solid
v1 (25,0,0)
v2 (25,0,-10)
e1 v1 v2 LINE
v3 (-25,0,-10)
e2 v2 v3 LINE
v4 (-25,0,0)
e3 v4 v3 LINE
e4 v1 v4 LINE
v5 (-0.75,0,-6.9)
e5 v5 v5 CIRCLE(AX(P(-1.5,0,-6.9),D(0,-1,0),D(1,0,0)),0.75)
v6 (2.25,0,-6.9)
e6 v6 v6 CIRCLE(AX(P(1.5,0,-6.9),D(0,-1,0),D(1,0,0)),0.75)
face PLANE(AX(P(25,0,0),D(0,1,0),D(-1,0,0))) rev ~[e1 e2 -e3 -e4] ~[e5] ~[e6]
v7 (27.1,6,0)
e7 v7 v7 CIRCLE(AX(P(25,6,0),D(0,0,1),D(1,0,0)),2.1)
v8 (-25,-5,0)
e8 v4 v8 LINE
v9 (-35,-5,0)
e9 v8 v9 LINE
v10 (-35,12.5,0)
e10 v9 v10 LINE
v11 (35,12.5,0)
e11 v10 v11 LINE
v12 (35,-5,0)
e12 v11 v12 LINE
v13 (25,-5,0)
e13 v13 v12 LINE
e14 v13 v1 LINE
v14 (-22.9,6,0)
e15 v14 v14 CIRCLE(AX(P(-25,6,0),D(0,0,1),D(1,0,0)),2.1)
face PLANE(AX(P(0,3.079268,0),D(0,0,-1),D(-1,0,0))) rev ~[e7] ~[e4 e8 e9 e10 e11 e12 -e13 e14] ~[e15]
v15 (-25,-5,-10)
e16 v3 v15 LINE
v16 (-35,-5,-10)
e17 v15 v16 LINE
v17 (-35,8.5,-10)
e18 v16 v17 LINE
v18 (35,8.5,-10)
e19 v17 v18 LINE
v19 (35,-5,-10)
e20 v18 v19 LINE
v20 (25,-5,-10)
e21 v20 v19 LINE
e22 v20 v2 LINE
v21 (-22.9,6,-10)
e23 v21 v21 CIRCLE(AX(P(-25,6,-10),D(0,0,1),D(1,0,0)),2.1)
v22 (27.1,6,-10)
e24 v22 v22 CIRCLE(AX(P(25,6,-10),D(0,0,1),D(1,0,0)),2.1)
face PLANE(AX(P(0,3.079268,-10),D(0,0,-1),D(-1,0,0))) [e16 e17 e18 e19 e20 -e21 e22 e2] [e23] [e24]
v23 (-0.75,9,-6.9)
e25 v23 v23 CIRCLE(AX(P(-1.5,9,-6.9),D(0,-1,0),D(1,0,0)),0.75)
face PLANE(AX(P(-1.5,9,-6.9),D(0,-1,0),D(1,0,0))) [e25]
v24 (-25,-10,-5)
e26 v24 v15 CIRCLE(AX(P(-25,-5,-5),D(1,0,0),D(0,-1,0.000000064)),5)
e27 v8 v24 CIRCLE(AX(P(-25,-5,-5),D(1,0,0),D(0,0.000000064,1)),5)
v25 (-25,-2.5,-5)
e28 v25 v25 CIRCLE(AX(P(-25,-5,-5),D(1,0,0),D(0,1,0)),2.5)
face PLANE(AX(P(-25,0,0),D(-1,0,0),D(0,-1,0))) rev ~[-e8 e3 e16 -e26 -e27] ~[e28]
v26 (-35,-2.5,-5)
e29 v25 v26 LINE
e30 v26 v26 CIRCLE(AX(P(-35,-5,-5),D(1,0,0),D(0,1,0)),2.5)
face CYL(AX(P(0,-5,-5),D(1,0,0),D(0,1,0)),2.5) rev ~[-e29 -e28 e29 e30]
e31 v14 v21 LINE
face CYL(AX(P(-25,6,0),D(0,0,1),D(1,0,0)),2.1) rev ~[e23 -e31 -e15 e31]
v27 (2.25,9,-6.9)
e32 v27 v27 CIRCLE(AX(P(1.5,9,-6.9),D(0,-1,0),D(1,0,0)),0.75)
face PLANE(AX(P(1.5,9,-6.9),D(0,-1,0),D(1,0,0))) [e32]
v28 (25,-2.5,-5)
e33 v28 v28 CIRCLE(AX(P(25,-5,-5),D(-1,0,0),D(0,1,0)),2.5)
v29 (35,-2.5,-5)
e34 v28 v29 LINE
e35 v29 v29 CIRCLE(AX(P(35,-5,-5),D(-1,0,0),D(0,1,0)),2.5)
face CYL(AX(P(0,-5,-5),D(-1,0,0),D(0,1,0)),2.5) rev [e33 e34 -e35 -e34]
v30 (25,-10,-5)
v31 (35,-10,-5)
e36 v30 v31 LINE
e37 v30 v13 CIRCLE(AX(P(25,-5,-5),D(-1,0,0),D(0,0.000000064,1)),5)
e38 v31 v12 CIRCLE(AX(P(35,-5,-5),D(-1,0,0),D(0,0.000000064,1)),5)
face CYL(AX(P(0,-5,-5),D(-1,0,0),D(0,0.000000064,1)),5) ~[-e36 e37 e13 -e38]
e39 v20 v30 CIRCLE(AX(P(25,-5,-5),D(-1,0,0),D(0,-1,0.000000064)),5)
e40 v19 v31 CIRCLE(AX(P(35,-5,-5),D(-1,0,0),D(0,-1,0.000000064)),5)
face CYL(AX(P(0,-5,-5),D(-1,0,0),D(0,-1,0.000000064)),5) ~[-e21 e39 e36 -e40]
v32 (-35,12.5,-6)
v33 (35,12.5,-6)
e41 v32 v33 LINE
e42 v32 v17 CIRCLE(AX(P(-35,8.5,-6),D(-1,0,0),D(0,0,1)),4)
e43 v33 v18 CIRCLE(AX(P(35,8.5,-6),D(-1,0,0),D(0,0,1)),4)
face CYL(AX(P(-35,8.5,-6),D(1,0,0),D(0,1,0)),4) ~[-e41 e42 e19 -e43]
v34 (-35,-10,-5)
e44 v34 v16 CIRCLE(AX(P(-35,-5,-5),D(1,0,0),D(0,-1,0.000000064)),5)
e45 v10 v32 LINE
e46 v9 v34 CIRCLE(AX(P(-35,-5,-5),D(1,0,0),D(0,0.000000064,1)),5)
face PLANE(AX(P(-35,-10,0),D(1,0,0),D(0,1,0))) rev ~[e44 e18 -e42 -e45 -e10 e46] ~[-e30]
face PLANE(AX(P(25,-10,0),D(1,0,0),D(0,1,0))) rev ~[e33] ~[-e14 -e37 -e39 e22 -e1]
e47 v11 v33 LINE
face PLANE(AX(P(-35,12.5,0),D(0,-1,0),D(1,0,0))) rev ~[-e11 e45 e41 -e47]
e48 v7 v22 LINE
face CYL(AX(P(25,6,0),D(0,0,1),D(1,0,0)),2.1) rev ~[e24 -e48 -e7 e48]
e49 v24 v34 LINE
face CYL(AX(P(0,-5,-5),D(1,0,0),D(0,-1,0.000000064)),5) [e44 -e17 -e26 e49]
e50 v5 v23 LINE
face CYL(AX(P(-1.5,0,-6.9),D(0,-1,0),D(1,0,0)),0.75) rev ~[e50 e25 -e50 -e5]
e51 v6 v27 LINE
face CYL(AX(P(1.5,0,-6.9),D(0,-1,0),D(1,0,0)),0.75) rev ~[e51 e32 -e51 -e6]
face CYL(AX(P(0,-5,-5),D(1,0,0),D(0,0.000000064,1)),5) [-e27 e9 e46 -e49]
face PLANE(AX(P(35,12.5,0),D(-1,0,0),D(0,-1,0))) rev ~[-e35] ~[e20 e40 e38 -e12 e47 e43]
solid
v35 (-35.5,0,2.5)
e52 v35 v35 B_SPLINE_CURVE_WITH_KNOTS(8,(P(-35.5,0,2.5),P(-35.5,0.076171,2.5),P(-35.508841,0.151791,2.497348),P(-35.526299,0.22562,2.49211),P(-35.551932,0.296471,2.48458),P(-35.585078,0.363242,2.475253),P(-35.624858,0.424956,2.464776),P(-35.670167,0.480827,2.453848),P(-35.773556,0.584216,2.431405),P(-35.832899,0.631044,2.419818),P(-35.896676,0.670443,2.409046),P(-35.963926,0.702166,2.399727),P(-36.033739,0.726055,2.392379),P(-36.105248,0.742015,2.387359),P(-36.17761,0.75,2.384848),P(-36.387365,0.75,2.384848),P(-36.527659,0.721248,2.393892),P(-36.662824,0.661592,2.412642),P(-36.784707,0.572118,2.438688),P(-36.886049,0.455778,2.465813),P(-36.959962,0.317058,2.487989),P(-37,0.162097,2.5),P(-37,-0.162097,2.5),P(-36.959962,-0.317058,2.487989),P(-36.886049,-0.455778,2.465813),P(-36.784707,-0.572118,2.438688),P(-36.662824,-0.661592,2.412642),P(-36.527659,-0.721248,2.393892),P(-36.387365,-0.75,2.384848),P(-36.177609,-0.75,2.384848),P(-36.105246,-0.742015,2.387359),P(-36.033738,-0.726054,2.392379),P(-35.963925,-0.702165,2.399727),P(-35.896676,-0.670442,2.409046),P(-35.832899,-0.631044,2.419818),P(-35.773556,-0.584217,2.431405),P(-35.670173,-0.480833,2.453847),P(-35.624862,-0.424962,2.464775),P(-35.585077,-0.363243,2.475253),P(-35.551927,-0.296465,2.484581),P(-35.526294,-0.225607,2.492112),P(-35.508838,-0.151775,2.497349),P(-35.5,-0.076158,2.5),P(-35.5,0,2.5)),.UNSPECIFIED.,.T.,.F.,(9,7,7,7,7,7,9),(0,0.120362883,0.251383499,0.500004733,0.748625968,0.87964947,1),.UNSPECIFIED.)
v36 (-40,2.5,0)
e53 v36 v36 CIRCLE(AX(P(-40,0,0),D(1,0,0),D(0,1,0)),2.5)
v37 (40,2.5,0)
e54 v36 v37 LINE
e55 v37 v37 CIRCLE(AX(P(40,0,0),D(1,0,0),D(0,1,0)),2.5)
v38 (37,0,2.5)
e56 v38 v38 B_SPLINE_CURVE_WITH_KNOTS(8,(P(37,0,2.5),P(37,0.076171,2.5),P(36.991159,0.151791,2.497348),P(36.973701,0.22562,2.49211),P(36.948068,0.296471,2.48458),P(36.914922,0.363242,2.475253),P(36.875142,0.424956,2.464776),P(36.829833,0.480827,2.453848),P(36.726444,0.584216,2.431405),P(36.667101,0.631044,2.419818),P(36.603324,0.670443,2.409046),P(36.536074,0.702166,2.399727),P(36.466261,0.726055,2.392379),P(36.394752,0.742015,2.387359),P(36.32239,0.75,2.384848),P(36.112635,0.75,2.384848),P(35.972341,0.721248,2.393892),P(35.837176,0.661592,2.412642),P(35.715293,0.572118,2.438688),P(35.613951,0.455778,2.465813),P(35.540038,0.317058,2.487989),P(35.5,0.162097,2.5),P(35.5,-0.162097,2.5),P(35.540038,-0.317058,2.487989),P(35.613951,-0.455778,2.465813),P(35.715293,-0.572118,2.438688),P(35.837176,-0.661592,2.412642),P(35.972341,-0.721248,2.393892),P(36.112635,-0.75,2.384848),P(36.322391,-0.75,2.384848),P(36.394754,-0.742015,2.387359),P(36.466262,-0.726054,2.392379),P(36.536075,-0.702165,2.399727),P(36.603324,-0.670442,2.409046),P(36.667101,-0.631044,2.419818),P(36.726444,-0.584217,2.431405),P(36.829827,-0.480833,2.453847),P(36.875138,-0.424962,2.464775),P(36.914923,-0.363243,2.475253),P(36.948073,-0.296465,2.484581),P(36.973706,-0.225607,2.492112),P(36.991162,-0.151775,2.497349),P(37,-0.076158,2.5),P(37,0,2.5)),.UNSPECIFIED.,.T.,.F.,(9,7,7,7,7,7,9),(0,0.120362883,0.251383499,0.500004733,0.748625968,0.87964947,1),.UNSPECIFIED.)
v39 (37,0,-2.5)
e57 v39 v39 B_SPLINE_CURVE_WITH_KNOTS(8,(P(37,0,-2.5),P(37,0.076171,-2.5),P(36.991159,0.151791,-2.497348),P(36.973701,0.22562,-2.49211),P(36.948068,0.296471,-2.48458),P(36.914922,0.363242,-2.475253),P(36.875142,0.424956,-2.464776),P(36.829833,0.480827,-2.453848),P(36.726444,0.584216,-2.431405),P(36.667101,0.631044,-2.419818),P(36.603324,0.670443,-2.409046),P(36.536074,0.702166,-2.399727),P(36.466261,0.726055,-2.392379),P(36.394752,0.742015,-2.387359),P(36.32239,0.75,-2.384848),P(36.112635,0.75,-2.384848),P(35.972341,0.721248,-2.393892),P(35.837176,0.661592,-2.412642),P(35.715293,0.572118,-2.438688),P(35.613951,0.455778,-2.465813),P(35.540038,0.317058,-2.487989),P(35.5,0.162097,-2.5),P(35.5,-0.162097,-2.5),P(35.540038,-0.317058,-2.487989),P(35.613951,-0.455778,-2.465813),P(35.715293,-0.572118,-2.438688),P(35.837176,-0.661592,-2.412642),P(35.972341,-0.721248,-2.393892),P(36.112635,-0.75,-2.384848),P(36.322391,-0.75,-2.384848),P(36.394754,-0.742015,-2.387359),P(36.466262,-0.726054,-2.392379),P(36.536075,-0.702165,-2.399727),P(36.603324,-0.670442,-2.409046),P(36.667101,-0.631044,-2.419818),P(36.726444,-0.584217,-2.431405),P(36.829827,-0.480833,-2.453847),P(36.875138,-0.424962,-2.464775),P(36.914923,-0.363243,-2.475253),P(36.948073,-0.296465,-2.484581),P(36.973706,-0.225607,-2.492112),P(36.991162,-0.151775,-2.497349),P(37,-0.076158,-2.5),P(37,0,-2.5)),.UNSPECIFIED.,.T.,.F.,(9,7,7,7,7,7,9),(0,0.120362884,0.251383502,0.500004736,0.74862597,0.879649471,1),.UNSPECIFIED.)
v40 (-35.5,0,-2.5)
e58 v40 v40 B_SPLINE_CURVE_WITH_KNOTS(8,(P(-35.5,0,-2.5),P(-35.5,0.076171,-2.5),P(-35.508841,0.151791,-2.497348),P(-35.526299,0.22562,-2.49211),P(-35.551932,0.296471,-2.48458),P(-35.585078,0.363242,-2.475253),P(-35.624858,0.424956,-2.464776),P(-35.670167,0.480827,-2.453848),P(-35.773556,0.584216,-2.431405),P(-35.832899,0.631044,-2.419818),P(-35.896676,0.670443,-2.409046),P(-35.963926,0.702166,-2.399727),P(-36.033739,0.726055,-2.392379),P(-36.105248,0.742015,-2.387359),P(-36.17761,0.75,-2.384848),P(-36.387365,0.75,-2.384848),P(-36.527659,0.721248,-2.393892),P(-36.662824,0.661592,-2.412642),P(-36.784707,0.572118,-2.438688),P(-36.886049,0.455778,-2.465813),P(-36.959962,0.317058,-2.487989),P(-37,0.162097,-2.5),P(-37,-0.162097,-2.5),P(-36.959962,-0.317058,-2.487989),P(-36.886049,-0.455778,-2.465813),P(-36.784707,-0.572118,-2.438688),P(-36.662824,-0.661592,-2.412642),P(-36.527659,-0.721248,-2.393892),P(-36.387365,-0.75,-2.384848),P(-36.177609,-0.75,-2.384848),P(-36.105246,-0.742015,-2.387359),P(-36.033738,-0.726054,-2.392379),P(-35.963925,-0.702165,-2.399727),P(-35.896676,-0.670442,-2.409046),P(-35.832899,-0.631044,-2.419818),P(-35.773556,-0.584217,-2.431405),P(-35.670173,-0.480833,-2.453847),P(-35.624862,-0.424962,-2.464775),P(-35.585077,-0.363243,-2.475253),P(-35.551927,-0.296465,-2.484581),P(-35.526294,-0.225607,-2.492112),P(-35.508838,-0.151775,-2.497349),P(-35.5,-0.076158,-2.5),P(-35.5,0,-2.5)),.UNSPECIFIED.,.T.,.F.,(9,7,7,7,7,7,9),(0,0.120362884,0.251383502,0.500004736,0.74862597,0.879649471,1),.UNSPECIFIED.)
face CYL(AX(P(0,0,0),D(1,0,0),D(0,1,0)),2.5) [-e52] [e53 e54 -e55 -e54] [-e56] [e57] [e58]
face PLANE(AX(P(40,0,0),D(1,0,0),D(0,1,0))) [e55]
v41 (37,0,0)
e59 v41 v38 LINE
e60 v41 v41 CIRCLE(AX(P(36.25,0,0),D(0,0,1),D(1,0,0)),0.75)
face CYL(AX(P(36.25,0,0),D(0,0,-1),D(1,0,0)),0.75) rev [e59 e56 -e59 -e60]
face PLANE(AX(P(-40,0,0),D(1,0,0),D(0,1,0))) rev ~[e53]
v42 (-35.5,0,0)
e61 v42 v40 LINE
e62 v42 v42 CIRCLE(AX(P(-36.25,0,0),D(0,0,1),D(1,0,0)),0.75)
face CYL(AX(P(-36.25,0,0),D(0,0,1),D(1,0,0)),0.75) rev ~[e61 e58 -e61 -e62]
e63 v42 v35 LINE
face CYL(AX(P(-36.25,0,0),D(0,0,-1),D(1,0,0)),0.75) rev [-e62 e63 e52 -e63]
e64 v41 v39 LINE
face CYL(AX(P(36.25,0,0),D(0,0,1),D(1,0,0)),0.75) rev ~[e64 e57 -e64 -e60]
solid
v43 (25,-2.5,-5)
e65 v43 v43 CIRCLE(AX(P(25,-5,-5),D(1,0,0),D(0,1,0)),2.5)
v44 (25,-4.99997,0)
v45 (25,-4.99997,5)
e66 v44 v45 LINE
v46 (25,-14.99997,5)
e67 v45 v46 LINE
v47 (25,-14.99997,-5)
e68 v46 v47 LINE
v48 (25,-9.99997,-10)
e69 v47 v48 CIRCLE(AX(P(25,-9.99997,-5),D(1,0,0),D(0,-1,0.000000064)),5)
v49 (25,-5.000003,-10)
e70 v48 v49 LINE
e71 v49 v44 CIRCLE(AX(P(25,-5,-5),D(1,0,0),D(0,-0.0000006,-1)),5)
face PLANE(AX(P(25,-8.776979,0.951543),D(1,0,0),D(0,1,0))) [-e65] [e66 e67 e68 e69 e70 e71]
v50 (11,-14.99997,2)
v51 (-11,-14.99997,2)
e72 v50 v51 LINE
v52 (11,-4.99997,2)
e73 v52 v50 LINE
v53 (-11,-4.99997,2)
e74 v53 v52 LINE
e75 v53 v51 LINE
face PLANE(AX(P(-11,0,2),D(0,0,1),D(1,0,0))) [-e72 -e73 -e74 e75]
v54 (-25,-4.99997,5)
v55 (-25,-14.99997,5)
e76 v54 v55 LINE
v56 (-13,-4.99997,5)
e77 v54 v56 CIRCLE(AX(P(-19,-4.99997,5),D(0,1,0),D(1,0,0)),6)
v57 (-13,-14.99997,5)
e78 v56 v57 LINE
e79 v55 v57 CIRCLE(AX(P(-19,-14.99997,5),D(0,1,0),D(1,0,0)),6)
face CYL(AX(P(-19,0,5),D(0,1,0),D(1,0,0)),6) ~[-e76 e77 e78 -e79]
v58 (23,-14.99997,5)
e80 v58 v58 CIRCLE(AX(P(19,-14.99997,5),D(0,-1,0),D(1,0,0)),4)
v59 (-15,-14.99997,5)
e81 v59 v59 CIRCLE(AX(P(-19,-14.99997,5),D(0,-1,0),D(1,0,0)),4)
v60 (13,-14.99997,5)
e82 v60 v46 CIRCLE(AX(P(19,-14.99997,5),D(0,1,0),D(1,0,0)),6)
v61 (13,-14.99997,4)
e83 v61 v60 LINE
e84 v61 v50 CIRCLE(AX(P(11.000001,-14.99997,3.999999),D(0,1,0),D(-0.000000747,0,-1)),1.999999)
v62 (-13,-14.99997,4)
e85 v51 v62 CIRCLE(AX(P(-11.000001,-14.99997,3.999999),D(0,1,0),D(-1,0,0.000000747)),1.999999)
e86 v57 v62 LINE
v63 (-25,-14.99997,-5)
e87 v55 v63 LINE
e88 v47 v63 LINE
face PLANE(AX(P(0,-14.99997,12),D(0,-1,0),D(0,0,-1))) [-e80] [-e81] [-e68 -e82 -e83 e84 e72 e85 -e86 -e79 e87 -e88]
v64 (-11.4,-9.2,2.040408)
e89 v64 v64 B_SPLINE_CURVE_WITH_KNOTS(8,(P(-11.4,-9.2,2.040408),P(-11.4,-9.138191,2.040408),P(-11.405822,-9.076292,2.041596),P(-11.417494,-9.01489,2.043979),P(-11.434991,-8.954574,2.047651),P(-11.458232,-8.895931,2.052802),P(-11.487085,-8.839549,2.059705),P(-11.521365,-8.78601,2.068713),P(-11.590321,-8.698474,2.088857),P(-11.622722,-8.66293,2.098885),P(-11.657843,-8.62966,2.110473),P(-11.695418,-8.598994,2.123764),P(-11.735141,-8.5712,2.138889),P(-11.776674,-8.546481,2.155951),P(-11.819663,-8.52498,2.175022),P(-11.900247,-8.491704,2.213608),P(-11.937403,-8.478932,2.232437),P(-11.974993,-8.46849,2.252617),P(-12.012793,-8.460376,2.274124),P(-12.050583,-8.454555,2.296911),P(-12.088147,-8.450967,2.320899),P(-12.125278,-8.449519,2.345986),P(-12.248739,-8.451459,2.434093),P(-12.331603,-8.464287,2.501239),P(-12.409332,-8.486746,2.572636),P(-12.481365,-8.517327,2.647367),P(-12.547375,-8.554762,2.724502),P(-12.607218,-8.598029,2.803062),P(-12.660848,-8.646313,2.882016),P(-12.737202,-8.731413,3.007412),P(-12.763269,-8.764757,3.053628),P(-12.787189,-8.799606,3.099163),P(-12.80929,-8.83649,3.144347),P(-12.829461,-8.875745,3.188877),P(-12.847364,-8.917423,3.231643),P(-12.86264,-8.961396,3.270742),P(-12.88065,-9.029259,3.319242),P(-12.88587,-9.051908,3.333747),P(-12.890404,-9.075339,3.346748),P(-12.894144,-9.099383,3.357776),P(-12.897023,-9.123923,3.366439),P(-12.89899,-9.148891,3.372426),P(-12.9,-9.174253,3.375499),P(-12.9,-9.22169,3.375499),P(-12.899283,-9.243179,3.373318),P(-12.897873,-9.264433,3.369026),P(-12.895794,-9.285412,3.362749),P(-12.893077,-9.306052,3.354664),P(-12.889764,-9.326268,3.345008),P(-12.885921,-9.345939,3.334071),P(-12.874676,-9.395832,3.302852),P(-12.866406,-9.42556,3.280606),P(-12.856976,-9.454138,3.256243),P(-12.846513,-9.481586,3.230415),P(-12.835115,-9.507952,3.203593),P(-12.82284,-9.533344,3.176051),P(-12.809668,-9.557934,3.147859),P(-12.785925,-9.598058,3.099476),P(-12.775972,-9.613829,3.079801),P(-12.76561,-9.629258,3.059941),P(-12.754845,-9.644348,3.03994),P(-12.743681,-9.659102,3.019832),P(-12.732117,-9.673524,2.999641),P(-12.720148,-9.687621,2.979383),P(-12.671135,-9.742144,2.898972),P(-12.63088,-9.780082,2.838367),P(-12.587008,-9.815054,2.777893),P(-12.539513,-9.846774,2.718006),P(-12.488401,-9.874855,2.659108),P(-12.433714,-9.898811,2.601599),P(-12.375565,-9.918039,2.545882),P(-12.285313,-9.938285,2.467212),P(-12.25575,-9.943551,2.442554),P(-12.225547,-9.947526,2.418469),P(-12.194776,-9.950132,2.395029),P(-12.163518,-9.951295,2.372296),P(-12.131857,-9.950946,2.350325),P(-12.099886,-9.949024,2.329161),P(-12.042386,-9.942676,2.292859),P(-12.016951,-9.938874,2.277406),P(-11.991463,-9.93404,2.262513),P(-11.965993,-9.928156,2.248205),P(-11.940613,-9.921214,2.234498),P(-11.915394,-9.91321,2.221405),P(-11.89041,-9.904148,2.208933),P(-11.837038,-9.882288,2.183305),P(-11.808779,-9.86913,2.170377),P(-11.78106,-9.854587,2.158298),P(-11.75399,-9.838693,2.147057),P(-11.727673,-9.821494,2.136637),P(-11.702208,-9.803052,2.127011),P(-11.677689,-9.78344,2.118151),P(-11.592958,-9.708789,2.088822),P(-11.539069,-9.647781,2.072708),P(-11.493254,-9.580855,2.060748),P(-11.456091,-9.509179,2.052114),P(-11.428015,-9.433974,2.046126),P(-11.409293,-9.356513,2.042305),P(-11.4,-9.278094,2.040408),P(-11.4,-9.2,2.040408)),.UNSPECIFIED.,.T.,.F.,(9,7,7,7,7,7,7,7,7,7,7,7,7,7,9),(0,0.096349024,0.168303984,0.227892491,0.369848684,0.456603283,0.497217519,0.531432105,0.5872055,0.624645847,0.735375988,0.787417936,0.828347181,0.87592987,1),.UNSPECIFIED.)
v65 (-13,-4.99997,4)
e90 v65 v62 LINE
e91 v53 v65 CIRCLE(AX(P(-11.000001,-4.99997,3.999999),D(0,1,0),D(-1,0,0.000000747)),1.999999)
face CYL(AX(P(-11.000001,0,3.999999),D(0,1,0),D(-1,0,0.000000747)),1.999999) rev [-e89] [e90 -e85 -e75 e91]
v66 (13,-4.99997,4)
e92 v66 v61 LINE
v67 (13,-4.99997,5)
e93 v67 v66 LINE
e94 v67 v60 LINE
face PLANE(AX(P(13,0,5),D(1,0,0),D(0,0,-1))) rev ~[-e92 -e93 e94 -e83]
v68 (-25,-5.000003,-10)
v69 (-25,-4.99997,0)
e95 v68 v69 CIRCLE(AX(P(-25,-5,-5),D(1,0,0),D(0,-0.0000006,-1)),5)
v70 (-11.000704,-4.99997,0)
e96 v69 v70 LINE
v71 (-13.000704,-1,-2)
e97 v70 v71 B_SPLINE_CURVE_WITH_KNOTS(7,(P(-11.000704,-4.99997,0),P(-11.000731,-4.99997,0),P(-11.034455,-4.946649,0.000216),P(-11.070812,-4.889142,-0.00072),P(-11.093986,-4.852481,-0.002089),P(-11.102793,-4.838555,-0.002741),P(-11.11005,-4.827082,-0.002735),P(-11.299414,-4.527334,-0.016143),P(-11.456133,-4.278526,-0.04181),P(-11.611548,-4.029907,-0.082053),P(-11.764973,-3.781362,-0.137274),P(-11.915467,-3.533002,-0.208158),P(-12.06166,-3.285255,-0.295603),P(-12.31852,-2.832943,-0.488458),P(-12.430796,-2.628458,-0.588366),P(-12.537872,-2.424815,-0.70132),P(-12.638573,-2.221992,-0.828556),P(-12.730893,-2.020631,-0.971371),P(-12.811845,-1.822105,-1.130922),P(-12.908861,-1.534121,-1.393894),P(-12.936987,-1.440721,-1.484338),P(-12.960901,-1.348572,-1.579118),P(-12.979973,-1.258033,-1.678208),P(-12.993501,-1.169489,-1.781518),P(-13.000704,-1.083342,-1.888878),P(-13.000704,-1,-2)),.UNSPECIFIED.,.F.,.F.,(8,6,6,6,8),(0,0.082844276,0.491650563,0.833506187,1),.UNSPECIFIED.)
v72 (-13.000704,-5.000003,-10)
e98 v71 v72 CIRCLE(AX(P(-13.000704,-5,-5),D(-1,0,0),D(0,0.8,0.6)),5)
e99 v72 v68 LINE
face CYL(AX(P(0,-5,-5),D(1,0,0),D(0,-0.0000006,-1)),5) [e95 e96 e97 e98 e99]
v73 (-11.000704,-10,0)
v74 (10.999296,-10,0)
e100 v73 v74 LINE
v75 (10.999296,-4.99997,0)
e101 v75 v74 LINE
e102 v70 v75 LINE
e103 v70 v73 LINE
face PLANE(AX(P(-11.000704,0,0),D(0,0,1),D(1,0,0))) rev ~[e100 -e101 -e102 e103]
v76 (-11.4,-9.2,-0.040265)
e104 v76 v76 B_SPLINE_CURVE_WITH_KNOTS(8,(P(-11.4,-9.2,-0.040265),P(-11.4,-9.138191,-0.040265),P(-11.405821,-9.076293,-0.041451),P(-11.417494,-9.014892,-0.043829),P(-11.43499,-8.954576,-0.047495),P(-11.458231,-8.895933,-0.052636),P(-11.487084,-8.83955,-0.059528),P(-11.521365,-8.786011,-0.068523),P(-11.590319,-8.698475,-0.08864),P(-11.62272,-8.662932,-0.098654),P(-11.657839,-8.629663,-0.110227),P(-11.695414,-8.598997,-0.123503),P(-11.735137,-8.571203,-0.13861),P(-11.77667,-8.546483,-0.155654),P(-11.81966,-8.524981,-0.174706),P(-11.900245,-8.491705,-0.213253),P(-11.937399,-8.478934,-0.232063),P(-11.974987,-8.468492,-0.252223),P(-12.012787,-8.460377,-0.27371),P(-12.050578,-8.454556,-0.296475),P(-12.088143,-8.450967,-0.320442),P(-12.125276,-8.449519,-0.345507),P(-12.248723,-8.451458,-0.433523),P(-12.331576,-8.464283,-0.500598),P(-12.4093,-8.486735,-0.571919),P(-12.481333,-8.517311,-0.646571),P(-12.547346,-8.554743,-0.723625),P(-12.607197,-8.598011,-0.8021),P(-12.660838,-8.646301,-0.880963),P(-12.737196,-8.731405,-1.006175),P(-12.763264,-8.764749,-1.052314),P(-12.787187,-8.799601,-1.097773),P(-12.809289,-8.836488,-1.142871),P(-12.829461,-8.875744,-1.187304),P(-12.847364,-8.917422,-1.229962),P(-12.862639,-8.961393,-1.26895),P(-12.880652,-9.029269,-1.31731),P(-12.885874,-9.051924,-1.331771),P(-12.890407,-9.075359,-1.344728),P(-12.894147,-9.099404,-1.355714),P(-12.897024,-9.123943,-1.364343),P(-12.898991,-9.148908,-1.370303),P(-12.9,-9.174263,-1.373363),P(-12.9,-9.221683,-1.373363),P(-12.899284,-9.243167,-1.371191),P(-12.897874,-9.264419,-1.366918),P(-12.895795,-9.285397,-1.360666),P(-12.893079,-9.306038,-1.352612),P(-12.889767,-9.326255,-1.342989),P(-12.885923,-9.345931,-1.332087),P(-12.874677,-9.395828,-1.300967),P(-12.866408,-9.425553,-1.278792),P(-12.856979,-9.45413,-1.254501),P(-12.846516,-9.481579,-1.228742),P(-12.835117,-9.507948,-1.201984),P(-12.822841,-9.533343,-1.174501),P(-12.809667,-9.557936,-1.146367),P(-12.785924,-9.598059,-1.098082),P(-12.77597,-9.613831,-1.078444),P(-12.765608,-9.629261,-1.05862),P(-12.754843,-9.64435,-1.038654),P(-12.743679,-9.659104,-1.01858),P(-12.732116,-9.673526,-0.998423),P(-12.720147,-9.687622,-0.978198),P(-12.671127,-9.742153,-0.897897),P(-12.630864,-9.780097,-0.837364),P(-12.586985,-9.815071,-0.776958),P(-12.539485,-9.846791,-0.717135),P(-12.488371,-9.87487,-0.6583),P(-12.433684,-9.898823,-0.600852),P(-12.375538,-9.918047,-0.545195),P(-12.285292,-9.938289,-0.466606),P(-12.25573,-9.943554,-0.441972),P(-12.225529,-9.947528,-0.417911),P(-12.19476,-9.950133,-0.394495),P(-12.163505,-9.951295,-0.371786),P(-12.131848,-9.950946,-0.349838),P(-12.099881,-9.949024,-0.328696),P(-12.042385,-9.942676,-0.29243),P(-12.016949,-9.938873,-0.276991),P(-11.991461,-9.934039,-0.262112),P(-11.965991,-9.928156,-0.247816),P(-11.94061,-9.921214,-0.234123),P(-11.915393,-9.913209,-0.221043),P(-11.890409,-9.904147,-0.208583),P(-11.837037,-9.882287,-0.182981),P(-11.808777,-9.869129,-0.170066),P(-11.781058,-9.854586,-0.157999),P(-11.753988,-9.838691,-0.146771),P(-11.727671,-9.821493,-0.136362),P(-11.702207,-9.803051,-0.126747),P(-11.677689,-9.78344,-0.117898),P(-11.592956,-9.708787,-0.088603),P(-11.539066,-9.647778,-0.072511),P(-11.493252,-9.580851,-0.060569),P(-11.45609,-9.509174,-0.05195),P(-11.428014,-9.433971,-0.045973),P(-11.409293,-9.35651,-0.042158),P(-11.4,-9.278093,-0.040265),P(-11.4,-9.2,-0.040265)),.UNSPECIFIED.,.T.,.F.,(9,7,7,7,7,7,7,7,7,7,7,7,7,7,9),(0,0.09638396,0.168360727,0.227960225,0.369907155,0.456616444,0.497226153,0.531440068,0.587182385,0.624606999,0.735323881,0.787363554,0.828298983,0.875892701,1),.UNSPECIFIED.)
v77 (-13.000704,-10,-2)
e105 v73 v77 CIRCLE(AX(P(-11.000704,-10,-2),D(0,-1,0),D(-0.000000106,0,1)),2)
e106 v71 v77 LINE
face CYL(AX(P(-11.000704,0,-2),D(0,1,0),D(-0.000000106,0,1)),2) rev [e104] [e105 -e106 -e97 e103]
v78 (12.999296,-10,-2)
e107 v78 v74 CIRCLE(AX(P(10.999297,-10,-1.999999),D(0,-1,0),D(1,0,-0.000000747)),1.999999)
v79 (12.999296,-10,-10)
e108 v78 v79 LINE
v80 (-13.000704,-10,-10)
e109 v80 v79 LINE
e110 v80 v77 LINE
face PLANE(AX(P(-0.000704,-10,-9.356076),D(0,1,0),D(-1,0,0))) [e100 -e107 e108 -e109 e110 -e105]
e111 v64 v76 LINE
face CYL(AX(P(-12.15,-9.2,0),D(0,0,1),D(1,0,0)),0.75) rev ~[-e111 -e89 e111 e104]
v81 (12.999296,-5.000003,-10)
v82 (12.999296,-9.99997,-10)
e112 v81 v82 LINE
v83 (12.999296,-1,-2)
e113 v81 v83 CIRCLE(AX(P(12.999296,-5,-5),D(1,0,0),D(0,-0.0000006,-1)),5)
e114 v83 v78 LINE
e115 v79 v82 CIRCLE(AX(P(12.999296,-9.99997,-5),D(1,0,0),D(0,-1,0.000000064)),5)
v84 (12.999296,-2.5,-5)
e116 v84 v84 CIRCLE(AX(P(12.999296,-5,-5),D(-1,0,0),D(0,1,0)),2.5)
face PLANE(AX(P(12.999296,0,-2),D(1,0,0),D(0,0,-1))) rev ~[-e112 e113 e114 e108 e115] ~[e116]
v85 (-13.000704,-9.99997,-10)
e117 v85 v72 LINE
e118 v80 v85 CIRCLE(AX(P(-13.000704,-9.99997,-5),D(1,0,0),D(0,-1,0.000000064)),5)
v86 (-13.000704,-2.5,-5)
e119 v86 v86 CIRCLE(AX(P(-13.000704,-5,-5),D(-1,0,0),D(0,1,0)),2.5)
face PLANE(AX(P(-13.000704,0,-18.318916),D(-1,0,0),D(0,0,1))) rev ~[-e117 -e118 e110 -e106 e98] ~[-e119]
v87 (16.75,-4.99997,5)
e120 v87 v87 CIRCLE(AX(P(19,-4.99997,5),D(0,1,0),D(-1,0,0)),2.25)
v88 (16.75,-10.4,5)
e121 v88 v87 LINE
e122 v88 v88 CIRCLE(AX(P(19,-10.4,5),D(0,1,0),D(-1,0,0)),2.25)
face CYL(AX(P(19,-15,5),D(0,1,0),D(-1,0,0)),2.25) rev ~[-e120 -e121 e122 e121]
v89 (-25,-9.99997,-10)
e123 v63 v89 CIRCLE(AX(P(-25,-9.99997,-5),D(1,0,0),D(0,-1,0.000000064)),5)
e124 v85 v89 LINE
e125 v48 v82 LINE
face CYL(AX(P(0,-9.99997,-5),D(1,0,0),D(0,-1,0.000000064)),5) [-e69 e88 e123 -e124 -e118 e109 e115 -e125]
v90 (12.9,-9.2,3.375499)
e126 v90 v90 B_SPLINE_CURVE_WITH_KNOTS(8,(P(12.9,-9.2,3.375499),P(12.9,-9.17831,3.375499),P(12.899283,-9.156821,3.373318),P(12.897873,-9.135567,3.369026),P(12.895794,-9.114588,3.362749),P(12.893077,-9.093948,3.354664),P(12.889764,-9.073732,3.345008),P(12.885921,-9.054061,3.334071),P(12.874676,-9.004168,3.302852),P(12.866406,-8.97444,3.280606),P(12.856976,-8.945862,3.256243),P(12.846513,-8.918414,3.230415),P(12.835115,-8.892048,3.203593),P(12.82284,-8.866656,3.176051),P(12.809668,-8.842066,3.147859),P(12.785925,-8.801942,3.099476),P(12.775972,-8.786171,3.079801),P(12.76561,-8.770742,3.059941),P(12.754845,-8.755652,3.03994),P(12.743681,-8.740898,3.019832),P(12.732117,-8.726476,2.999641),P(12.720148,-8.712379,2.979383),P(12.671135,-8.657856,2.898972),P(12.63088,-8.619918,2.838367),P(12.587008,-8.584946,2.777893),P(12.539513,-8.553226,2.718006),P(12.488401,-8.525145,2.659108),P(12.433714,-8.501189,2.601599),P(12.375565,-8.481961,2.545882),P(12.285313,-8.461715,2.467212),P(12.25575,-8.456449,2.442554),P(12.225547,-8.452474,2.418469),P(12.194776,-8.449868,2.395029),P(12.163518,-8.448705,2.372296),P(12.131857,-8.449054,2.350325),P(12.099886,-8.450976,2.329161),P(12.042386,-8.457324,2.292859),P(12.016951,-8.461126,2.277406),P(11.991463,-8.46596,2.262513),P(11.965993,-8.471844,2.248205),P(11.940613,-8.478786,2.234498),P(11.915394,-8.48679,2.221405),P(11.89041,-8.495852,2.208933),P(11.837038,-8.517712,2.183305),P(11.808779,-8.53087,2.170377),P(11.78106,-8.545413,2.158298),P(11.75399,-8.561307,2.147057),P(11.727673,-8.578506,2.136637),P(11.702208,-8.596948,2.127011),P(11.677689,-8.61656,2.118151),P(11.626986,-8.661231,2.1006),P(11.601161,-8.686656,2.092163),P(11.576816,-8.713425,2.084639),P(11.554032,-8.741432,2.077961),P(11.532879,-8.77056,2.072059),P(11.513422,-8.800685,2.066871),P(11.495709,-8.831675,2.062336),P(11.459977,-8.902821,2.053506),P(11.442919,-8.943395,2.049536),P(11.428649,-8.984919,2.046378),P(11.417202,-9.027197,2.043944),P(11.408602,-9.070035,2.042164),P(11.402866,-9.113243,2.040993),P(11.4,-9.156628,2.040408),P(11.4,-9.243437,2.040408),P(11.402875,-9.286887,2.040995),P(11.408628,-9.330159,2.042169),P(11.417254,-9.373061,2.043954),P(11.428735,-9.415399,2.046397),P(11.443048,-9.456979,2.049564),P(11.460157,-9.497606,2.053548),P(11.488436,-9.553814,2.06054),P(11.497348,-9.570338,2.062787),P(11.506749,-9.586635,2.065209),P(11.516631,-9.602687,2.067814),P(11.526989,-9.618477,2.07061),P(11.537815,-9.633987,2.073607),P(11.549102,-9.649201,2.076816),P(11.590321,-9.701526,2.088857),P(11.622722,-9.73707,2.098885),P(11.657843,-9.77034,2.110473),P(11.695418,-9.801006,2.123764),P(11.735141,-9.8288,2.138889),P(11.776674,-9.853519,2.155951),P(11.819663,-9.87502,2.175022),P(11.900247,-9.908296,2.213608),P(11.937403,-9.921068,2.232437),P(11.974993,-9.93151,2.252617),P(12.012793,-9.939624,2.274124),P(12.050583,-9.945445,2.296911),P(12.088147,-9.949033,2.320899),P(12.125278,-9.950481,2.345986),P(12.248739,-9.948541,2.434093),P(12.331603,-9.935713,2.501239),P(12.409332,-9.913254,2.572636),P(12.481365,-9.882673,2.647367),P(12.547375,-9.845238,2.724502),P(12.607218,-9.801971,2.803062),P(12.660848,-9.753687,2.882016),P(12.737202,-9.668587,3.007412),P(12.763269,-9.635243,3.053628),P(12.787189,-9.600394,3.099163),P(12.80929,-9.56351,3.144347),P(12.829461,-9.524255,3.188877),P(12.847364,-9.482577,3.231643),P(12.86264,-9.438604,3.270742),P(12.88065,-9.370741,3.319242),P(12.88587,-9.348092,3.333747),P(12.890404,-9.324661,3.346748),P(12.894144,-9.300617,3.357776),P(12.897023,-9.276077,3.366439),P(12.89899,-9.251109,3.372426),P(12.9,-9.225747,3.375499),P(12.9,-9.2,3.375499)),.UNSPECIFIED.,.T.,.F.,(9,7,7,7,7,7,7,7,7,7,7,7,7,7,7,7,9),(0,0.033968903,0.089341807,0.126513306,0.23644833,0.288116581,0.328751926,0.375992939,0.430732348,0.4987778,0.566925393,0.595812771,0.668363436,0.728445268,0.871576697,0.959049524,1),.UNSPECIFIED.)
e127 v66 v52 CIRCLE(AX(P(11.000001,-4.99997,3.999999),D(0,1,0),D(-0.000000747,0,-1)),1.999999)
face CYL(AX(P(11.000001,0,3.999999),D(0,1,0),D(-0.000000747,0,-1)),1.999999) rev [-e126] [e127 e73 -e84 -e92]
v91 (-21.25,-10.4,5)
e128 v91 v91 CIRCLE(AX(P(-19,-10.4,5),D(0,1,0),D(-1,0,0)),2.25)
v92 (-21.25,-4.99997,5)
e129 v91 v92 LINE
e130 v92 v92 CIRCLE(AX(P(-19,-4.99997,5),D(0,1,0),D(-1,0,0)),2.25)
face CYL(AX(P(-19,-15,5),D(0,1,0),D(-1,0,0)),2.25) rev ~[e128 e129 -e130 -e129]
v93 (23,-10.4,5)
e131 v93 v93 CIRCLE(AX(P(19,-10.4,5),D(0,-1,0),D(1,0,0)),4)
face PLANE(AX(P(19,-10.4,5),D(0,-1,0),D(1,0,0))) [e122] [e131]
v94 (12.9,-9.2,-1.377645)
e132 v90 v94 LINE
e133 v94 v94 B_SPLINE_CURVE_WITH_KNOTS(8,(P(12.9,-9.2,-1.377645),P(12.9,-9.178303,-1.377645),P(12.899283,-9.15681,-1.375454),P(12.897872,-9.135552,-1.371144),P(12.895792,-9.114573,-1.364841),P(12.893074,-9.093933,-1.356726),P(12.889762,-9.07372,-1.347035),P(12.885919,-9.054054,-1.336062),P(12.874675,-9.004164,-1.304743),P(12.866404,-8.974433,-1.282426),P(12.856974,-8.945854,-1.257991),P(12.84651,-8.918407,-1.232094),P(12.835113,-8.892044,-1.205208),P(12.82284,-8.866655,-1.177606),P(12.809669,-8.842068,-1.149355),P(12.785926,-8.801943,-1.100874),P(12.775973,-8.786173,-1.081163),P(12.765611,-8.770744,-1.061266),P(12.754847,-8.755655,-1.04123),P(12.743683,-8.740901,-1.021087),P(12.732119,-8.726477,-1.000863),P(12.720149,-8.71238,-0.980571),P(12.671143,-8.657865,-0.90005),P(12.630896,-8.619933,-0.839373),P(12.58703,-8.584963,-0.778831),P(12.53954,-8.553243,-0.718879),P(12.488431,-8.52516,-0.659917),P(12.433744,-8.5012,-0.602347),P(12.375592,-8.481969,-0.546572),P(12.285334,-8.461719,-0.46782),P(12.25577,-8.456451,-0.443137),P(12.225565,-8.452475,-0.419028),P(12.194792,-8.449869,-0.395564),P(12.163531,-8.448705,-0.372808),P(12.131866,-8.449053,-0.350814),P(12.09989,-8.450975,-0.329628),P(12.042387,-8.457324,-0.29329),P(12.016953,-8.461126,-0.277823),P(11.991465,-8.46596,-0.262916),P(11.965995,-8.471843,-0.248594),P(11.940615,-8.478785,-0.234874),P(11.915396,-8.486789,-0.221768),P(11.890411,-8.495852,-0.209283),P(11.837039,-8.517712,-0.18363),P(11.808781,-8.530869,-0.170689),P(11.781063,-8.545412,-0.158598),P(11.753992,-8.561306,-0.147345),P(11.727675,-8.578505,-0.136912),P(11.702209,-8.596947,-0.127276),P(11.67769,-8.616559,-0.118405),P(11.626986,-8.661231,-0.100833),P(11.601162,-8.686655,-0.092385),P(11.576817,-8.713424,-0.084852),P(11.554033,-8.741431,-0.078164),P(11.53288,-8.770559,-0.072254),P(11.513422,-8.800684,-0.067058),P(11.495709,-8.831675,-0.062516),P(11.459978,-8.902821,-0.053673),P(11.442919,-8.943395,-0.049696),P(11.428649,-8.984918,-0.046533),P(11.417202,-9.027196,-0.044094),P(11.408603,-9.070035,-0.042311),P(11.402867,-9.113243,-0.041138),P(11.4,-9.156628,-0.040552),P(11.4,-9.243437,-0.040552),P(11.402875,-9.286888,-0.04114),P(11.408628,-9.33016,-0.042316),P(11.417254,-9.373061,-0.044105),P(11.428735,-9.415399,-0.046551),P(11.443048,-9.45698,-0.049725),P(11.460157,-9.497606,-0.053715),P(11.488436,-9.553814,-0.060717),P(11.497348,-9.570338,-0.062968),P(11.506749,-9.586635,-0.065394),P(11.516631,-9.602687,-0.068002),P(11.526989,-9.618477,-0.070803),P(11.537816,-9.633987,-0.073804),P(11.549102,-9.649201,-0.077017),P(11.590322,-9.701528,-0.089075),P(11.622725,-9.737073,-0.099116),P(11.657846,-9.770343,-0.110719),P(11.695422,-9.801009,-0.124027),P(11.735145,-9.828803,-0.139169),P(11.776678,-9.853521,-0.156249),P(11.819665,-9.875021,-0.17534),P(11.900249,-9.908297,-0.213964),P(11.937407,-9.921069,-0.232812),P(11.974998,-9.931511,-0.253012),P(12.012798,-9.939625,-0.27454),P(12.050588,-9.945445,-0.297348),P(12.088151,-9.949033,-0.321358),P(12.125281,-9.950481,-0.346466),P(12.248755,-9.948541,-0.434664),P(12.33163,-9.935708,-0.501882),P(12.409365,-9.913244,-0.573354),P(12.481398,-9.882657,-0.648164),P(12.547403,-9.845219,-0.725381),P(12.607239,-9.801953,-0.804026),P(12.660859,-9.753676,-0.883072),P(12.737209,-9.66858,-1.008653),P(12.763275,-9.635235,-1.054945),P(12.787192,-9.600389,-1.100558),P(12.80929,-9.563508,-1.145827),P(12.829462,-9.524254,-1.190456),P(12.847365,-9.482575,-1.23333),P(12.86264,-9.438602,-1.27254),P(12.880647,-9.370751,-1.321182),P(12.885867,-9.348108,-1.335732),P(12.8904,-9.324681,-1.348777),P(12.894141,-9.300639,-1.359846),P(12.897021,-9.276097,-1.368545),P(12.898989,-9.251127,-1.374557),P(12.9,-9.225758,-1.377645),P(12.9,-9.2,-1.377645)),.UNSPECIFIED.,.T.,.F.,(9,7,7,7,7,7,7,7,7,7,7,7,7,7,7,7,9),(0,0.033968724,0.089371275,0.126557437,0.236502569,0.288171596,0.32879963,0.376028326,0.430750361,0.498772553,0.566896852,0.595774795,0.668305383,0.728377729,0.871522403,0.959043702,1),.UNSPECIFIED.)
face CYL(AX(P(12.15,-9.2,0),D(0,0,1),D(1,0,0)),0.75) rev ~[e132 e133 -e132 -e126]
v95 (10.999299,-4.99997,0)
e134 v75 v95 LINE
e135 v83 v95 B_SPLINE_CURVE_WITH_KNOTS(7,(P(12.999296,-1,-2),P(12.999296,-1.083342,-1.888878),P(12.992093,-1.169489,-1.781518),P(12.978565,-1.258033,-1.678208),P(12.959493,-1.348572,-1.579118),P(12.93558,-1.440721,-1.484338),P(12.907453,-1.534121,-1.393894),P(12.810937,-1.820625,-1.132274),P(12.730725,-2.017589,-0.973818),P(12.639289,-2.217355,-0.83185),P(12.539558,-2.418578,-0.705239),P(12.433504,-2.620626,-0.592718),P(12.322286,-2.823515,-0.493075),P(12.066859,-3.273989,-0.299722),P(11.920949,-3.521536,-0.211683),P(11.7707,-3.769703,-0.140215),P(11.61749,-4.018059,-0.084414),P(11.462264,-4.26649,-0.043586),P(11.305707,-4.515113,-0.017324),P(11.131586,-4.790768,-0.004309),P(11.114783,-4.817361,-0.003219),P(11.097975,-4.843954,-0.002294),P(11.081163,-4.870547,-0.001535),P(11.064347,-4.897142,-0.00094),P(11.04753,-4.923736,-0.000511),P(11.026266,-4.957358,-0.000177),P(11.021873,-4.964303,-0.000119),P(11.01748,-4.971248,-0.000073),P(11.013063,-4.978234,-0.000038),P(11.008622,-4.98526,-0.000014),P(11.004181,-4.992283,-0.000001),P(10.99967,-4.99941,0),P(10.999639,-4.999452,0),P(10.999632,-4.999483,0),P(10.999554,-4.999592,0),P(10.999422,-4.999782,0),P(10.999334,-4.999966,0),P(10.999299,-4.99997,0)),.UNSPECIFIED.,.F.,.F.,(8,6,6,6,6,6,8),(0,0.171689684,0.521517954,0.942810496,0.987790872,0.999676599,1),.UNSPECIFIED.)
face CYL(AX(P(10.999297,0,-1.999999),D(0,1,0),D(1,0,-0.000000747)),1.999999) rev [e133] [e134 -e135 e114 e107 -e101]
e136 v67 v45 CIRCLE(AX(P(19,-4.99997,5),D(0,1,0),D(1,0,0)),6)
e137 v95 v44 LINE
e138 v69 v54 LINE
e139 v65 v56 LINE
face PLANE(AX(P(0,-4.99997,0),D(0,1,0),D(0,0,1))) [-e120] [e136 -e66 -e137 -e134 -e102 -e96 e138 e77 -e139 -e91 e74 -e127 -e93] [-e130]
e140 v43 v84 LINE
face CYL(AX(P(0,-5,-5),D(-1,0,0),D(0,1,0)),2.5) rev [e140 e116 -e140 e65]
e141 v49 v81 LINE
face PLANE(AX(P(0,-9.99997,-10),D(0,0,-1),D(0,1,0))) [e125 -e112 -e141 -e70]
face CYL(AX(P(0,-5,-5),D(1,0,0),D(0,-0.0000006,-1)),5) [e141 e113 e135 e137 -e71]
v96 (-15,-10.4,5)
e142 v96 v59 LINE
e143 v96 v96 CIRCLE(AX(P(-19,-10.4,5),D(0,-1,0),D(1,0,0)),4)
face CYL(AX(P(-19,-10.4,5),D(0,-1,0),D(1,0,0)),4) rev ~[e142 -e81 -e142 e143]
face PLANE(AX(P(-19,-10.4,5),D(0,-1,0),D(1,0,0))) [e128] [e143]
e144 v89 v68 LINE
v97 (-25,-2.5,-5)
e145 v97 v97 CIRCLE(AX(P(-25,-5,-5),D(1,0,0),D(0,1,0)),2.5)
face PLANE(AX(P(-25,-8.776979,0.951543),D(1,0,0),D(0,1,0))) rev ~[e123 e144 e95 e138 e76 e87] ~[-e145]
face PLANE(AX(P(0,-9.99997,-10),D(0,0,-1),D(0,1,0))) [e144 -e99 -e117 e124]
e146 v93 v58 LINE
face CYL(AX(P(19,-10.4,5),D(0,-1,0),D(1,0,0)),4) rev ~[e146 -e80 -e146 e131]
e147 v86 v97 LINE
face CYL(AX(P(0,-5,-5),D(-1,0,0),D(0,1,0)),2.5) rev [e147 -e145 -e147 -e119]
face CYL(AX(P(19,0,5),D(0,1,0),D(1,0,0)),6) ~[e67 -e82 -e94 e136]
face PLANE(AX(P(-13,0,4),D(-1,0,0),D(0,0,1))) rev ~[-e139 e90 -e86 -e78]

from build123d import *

# Parameters (mm, degrees)
PAD001_DEPTH         = 10
SKETCH002_R          = 2.5
POCKET_DEPTH         = 35.001
POCKET_DEPTH_BACK    = -35.001
SKETCH007_R          = 2.1
HOLE_DEPTH           = 10.001
SKETCH012_R          = 0.75
POCKET004_DEPTH      = 9
FILLET_R             = 4
SKETCH_R             = 2.5
PAD_DEPTH            = 25
POCKET002_DEPTH      = 10
POCKET003_DEPTH      = 15.00097
HOLE001_D            = 4.5
HOLE001_CBORE_D      = 8
HOLE001_CBORE_DEPTH  = 4.6
SKETCH013_R          = 0.75
POCKET005_DEPTH      = 10.001
POCKET005_DEPTH_BACK = -11.001
SKETCH014_R          = 2.5
PAD002_DEPTH         = 40
SKETCH015_R          = 0.75
POCKET006_DEPTH      = 2.501
POCKET006_DEPTH_BACK = -2.501


with BuildPart() as statikhinge:
    # Sketch001 → Pad001 (new body)
    with BuildSketch(Plane.XY):
        Polygon((-35, -10), (-35, 12.5), (35, 12.5), (35, -10), (25, -10), (25, 0), (-25, 0), (-25, -10), align=None)
    extrude(amount=-PAD001_DEPTH)

    # Sketch002 → Pocket (cut, two sides)
    with BuildSketch(Plane.YZ) as pocket_sk:
        with Locations((-5, -5)):
            Circle(SKETCH002_R)
        with BuildLine():
            ThreePointArc((-5, 0), (-8.535534, -1.464466), (-10, -5))
            ThreePointArc((-10, -5), (-8.535534, -8.535534), (-5, -10))
            Line((-10, -10), (-5, -10))
            Line((-13, -10), (-10, -10))
            Line((-13, 0), (-13, -10))
            Line((-10, 0), (-13, 0))
            Line((-10, 0), (-5, 0))
        make_face()
    extrude(amount=-POCKET_DEPTH, mode=Mode.SUBTRACT)
    extrude(pocket_sk.sketch, amount=-POCKET_DEPTH_BACK, mode=Mode.SUBTRACT)

    # Sketch007 → Hole (cut, through all)
    with BuildSketch(Plane.XY):
        with Locations((25, 6)):
            Circle(SKETCH007_R)
        with Locations((-25, 6)):
            Circle(SKETCH007_R)
    extrude(amount=-HOLE_DEPTH, mode=Mode.SUBTRACT)

    # Sketch012 → Pocket004 (cut)
    with BuildSketch(Plane.XZ):
        with Locations((-1.5, -6.9)):
            Circle(SKETCH012_R)
        with Locations((1.5, -6.9)):
            Circle(SKETCH012_R)
    extrude(amount=-POCKET004_DEPTH, mode=Mode.SUBTRACT)

    # Fillet
    fillet_edges = [statikhinge.edges().sort_by_distance(p)[0] for p in [
        (0, 12.5, -10),
    ]]
    fillet(fillet_edges, radius=FILLET_R)


with BuildPart() as doorhinge:
    # Sketch → Pad (new body, symmetric)
    with BuildSketch(Plane.YZ):
        with BuildLine():
            ThreePointArc((-5.000003, -10), (0, -5.000016), (-4.99997, 0))
            Line((-4.99997, 0), (-4.99997, 12))
            Line((-4.99997, 12), (-14.99997, 12))
            Line((-14.99997, 12), (-14.99997, -5))
            ThreePointArc((-14.99997, -5), (-13.535504, -8.535534), (-9.99997, -10))
            Line((-9.99997, -10), (-5.000003, -10))
        make_face()
        with Locations((-5, -5)):
            Circle(SKETCH_R, mode=Mode.SUBTRACT)
    extrude(amount=PAD_DEPTH, both=True)

    # Sketch009 → Pocket002 (cut)
    with BuildSketch(Plane.XZ):
        with BuildLine():
            Line((-11.000704, 0), (10.999296, 0))
            ThreePointArc((12.999296, -2), (12.41351, -0.585786), (10.999296, 0))
            Line((12.999296, -2), (12.999296, -18.318916))
            Line((12.999296, -18.318916), (-13.000704, -18.318916))
            Line((-13.000704, -18.318916), (-13.000704, -2))
            ThreePointArc((-11.000704, 0), (-12.414917, -0.585786), (-13.000704, -2))
        make_face()
    extrude(amount=POCKET002_DEPTH, mode=Mode.SUBTRACT)

    # Sketch010 → Pocket003 (cut, through all)
    with BuildSketch(Plane.XZ):
        with BuildLine():
            Line((13, 5), (13, 4))
            ThreePointArc((11, 2), (12.414214, 2.585786), (13, 4))
            Line((-11, 2), (11, 2))
            ThreePointArc((-13, 4), (-12.414214, 2.585786), (-11, 2))
            Line((-13, 4), (-13, 5))
            ThreePointArc((-13, 5), (-19, 11), (-25, 5))
            Line((-25, 11), (-25, 5))
            Line((-25, 11), (-25, 12))
            Line((-25, 12), (25, 12))
            Line((25, 12), (25, 11))
            Line((25, 5), (25, 11))
            ThreePointArc((25, 5), (19, 11), (13, 5))
        make_face()
    extrude(amount=POCKET003_DEPTH, mode=Mode.SUBTRACT)

    # Hole001 (through all)
    with Locations(Plane.XZ.offset(15)):
        with Locations((-19, 5), (19, 5)):
            CounterBoreHole(HOLE001_D / 2, HOLE001_CBORE_D / 2, HOLE001_CBORE_DEPTH)

    # Sketch013 → Pocket005 (cut, two sides)
    with BuildSketch(Plane.XY) as pocket005_sk:
        with Locations((-12.15, -9.2)):
            Circle(SKETCH013_R)
        with Locations((12.15, -9.2)):
            Circle(SKETCH013_R)
    extrude(amount=-POCKET005_DEPTH, mode=Mode.SUBTRACT)
    extrude(pocket005_sk.sketch, amount=-POCKET005_DEPTH_BACK, mode=Mode.SUBTRACT)


with BuildPart() as pin:
    # Sketch014 → Pad002 (new body, symmetric)
    with BuildSketch(Plane.YZ):
        Circle(SKETCH014_R)
    extrude(amount=PAD002_DEPTH, both=True)

    # Sketch015 → Pocket006 (cut, two sides)
    with BuildSketch(Plane.XY) as pocket006_sk:
        with Locations((36.25, 0)):
            Circle(SKETCH015_R)
        with Locations((-36.25, 0)):
            Circle(SKETCH015_R)
    extrude(amount=-POCKET006_DEPTH, mode=Mode.SUBTRACT)
    extrude(pocket006_sk.sketch, amount=-POCKET006_DEPTH_BACK, mode=Mode.SUBTRACT)


solid = Compound([statikhinge.part, doorhinge.part, pin.part])
